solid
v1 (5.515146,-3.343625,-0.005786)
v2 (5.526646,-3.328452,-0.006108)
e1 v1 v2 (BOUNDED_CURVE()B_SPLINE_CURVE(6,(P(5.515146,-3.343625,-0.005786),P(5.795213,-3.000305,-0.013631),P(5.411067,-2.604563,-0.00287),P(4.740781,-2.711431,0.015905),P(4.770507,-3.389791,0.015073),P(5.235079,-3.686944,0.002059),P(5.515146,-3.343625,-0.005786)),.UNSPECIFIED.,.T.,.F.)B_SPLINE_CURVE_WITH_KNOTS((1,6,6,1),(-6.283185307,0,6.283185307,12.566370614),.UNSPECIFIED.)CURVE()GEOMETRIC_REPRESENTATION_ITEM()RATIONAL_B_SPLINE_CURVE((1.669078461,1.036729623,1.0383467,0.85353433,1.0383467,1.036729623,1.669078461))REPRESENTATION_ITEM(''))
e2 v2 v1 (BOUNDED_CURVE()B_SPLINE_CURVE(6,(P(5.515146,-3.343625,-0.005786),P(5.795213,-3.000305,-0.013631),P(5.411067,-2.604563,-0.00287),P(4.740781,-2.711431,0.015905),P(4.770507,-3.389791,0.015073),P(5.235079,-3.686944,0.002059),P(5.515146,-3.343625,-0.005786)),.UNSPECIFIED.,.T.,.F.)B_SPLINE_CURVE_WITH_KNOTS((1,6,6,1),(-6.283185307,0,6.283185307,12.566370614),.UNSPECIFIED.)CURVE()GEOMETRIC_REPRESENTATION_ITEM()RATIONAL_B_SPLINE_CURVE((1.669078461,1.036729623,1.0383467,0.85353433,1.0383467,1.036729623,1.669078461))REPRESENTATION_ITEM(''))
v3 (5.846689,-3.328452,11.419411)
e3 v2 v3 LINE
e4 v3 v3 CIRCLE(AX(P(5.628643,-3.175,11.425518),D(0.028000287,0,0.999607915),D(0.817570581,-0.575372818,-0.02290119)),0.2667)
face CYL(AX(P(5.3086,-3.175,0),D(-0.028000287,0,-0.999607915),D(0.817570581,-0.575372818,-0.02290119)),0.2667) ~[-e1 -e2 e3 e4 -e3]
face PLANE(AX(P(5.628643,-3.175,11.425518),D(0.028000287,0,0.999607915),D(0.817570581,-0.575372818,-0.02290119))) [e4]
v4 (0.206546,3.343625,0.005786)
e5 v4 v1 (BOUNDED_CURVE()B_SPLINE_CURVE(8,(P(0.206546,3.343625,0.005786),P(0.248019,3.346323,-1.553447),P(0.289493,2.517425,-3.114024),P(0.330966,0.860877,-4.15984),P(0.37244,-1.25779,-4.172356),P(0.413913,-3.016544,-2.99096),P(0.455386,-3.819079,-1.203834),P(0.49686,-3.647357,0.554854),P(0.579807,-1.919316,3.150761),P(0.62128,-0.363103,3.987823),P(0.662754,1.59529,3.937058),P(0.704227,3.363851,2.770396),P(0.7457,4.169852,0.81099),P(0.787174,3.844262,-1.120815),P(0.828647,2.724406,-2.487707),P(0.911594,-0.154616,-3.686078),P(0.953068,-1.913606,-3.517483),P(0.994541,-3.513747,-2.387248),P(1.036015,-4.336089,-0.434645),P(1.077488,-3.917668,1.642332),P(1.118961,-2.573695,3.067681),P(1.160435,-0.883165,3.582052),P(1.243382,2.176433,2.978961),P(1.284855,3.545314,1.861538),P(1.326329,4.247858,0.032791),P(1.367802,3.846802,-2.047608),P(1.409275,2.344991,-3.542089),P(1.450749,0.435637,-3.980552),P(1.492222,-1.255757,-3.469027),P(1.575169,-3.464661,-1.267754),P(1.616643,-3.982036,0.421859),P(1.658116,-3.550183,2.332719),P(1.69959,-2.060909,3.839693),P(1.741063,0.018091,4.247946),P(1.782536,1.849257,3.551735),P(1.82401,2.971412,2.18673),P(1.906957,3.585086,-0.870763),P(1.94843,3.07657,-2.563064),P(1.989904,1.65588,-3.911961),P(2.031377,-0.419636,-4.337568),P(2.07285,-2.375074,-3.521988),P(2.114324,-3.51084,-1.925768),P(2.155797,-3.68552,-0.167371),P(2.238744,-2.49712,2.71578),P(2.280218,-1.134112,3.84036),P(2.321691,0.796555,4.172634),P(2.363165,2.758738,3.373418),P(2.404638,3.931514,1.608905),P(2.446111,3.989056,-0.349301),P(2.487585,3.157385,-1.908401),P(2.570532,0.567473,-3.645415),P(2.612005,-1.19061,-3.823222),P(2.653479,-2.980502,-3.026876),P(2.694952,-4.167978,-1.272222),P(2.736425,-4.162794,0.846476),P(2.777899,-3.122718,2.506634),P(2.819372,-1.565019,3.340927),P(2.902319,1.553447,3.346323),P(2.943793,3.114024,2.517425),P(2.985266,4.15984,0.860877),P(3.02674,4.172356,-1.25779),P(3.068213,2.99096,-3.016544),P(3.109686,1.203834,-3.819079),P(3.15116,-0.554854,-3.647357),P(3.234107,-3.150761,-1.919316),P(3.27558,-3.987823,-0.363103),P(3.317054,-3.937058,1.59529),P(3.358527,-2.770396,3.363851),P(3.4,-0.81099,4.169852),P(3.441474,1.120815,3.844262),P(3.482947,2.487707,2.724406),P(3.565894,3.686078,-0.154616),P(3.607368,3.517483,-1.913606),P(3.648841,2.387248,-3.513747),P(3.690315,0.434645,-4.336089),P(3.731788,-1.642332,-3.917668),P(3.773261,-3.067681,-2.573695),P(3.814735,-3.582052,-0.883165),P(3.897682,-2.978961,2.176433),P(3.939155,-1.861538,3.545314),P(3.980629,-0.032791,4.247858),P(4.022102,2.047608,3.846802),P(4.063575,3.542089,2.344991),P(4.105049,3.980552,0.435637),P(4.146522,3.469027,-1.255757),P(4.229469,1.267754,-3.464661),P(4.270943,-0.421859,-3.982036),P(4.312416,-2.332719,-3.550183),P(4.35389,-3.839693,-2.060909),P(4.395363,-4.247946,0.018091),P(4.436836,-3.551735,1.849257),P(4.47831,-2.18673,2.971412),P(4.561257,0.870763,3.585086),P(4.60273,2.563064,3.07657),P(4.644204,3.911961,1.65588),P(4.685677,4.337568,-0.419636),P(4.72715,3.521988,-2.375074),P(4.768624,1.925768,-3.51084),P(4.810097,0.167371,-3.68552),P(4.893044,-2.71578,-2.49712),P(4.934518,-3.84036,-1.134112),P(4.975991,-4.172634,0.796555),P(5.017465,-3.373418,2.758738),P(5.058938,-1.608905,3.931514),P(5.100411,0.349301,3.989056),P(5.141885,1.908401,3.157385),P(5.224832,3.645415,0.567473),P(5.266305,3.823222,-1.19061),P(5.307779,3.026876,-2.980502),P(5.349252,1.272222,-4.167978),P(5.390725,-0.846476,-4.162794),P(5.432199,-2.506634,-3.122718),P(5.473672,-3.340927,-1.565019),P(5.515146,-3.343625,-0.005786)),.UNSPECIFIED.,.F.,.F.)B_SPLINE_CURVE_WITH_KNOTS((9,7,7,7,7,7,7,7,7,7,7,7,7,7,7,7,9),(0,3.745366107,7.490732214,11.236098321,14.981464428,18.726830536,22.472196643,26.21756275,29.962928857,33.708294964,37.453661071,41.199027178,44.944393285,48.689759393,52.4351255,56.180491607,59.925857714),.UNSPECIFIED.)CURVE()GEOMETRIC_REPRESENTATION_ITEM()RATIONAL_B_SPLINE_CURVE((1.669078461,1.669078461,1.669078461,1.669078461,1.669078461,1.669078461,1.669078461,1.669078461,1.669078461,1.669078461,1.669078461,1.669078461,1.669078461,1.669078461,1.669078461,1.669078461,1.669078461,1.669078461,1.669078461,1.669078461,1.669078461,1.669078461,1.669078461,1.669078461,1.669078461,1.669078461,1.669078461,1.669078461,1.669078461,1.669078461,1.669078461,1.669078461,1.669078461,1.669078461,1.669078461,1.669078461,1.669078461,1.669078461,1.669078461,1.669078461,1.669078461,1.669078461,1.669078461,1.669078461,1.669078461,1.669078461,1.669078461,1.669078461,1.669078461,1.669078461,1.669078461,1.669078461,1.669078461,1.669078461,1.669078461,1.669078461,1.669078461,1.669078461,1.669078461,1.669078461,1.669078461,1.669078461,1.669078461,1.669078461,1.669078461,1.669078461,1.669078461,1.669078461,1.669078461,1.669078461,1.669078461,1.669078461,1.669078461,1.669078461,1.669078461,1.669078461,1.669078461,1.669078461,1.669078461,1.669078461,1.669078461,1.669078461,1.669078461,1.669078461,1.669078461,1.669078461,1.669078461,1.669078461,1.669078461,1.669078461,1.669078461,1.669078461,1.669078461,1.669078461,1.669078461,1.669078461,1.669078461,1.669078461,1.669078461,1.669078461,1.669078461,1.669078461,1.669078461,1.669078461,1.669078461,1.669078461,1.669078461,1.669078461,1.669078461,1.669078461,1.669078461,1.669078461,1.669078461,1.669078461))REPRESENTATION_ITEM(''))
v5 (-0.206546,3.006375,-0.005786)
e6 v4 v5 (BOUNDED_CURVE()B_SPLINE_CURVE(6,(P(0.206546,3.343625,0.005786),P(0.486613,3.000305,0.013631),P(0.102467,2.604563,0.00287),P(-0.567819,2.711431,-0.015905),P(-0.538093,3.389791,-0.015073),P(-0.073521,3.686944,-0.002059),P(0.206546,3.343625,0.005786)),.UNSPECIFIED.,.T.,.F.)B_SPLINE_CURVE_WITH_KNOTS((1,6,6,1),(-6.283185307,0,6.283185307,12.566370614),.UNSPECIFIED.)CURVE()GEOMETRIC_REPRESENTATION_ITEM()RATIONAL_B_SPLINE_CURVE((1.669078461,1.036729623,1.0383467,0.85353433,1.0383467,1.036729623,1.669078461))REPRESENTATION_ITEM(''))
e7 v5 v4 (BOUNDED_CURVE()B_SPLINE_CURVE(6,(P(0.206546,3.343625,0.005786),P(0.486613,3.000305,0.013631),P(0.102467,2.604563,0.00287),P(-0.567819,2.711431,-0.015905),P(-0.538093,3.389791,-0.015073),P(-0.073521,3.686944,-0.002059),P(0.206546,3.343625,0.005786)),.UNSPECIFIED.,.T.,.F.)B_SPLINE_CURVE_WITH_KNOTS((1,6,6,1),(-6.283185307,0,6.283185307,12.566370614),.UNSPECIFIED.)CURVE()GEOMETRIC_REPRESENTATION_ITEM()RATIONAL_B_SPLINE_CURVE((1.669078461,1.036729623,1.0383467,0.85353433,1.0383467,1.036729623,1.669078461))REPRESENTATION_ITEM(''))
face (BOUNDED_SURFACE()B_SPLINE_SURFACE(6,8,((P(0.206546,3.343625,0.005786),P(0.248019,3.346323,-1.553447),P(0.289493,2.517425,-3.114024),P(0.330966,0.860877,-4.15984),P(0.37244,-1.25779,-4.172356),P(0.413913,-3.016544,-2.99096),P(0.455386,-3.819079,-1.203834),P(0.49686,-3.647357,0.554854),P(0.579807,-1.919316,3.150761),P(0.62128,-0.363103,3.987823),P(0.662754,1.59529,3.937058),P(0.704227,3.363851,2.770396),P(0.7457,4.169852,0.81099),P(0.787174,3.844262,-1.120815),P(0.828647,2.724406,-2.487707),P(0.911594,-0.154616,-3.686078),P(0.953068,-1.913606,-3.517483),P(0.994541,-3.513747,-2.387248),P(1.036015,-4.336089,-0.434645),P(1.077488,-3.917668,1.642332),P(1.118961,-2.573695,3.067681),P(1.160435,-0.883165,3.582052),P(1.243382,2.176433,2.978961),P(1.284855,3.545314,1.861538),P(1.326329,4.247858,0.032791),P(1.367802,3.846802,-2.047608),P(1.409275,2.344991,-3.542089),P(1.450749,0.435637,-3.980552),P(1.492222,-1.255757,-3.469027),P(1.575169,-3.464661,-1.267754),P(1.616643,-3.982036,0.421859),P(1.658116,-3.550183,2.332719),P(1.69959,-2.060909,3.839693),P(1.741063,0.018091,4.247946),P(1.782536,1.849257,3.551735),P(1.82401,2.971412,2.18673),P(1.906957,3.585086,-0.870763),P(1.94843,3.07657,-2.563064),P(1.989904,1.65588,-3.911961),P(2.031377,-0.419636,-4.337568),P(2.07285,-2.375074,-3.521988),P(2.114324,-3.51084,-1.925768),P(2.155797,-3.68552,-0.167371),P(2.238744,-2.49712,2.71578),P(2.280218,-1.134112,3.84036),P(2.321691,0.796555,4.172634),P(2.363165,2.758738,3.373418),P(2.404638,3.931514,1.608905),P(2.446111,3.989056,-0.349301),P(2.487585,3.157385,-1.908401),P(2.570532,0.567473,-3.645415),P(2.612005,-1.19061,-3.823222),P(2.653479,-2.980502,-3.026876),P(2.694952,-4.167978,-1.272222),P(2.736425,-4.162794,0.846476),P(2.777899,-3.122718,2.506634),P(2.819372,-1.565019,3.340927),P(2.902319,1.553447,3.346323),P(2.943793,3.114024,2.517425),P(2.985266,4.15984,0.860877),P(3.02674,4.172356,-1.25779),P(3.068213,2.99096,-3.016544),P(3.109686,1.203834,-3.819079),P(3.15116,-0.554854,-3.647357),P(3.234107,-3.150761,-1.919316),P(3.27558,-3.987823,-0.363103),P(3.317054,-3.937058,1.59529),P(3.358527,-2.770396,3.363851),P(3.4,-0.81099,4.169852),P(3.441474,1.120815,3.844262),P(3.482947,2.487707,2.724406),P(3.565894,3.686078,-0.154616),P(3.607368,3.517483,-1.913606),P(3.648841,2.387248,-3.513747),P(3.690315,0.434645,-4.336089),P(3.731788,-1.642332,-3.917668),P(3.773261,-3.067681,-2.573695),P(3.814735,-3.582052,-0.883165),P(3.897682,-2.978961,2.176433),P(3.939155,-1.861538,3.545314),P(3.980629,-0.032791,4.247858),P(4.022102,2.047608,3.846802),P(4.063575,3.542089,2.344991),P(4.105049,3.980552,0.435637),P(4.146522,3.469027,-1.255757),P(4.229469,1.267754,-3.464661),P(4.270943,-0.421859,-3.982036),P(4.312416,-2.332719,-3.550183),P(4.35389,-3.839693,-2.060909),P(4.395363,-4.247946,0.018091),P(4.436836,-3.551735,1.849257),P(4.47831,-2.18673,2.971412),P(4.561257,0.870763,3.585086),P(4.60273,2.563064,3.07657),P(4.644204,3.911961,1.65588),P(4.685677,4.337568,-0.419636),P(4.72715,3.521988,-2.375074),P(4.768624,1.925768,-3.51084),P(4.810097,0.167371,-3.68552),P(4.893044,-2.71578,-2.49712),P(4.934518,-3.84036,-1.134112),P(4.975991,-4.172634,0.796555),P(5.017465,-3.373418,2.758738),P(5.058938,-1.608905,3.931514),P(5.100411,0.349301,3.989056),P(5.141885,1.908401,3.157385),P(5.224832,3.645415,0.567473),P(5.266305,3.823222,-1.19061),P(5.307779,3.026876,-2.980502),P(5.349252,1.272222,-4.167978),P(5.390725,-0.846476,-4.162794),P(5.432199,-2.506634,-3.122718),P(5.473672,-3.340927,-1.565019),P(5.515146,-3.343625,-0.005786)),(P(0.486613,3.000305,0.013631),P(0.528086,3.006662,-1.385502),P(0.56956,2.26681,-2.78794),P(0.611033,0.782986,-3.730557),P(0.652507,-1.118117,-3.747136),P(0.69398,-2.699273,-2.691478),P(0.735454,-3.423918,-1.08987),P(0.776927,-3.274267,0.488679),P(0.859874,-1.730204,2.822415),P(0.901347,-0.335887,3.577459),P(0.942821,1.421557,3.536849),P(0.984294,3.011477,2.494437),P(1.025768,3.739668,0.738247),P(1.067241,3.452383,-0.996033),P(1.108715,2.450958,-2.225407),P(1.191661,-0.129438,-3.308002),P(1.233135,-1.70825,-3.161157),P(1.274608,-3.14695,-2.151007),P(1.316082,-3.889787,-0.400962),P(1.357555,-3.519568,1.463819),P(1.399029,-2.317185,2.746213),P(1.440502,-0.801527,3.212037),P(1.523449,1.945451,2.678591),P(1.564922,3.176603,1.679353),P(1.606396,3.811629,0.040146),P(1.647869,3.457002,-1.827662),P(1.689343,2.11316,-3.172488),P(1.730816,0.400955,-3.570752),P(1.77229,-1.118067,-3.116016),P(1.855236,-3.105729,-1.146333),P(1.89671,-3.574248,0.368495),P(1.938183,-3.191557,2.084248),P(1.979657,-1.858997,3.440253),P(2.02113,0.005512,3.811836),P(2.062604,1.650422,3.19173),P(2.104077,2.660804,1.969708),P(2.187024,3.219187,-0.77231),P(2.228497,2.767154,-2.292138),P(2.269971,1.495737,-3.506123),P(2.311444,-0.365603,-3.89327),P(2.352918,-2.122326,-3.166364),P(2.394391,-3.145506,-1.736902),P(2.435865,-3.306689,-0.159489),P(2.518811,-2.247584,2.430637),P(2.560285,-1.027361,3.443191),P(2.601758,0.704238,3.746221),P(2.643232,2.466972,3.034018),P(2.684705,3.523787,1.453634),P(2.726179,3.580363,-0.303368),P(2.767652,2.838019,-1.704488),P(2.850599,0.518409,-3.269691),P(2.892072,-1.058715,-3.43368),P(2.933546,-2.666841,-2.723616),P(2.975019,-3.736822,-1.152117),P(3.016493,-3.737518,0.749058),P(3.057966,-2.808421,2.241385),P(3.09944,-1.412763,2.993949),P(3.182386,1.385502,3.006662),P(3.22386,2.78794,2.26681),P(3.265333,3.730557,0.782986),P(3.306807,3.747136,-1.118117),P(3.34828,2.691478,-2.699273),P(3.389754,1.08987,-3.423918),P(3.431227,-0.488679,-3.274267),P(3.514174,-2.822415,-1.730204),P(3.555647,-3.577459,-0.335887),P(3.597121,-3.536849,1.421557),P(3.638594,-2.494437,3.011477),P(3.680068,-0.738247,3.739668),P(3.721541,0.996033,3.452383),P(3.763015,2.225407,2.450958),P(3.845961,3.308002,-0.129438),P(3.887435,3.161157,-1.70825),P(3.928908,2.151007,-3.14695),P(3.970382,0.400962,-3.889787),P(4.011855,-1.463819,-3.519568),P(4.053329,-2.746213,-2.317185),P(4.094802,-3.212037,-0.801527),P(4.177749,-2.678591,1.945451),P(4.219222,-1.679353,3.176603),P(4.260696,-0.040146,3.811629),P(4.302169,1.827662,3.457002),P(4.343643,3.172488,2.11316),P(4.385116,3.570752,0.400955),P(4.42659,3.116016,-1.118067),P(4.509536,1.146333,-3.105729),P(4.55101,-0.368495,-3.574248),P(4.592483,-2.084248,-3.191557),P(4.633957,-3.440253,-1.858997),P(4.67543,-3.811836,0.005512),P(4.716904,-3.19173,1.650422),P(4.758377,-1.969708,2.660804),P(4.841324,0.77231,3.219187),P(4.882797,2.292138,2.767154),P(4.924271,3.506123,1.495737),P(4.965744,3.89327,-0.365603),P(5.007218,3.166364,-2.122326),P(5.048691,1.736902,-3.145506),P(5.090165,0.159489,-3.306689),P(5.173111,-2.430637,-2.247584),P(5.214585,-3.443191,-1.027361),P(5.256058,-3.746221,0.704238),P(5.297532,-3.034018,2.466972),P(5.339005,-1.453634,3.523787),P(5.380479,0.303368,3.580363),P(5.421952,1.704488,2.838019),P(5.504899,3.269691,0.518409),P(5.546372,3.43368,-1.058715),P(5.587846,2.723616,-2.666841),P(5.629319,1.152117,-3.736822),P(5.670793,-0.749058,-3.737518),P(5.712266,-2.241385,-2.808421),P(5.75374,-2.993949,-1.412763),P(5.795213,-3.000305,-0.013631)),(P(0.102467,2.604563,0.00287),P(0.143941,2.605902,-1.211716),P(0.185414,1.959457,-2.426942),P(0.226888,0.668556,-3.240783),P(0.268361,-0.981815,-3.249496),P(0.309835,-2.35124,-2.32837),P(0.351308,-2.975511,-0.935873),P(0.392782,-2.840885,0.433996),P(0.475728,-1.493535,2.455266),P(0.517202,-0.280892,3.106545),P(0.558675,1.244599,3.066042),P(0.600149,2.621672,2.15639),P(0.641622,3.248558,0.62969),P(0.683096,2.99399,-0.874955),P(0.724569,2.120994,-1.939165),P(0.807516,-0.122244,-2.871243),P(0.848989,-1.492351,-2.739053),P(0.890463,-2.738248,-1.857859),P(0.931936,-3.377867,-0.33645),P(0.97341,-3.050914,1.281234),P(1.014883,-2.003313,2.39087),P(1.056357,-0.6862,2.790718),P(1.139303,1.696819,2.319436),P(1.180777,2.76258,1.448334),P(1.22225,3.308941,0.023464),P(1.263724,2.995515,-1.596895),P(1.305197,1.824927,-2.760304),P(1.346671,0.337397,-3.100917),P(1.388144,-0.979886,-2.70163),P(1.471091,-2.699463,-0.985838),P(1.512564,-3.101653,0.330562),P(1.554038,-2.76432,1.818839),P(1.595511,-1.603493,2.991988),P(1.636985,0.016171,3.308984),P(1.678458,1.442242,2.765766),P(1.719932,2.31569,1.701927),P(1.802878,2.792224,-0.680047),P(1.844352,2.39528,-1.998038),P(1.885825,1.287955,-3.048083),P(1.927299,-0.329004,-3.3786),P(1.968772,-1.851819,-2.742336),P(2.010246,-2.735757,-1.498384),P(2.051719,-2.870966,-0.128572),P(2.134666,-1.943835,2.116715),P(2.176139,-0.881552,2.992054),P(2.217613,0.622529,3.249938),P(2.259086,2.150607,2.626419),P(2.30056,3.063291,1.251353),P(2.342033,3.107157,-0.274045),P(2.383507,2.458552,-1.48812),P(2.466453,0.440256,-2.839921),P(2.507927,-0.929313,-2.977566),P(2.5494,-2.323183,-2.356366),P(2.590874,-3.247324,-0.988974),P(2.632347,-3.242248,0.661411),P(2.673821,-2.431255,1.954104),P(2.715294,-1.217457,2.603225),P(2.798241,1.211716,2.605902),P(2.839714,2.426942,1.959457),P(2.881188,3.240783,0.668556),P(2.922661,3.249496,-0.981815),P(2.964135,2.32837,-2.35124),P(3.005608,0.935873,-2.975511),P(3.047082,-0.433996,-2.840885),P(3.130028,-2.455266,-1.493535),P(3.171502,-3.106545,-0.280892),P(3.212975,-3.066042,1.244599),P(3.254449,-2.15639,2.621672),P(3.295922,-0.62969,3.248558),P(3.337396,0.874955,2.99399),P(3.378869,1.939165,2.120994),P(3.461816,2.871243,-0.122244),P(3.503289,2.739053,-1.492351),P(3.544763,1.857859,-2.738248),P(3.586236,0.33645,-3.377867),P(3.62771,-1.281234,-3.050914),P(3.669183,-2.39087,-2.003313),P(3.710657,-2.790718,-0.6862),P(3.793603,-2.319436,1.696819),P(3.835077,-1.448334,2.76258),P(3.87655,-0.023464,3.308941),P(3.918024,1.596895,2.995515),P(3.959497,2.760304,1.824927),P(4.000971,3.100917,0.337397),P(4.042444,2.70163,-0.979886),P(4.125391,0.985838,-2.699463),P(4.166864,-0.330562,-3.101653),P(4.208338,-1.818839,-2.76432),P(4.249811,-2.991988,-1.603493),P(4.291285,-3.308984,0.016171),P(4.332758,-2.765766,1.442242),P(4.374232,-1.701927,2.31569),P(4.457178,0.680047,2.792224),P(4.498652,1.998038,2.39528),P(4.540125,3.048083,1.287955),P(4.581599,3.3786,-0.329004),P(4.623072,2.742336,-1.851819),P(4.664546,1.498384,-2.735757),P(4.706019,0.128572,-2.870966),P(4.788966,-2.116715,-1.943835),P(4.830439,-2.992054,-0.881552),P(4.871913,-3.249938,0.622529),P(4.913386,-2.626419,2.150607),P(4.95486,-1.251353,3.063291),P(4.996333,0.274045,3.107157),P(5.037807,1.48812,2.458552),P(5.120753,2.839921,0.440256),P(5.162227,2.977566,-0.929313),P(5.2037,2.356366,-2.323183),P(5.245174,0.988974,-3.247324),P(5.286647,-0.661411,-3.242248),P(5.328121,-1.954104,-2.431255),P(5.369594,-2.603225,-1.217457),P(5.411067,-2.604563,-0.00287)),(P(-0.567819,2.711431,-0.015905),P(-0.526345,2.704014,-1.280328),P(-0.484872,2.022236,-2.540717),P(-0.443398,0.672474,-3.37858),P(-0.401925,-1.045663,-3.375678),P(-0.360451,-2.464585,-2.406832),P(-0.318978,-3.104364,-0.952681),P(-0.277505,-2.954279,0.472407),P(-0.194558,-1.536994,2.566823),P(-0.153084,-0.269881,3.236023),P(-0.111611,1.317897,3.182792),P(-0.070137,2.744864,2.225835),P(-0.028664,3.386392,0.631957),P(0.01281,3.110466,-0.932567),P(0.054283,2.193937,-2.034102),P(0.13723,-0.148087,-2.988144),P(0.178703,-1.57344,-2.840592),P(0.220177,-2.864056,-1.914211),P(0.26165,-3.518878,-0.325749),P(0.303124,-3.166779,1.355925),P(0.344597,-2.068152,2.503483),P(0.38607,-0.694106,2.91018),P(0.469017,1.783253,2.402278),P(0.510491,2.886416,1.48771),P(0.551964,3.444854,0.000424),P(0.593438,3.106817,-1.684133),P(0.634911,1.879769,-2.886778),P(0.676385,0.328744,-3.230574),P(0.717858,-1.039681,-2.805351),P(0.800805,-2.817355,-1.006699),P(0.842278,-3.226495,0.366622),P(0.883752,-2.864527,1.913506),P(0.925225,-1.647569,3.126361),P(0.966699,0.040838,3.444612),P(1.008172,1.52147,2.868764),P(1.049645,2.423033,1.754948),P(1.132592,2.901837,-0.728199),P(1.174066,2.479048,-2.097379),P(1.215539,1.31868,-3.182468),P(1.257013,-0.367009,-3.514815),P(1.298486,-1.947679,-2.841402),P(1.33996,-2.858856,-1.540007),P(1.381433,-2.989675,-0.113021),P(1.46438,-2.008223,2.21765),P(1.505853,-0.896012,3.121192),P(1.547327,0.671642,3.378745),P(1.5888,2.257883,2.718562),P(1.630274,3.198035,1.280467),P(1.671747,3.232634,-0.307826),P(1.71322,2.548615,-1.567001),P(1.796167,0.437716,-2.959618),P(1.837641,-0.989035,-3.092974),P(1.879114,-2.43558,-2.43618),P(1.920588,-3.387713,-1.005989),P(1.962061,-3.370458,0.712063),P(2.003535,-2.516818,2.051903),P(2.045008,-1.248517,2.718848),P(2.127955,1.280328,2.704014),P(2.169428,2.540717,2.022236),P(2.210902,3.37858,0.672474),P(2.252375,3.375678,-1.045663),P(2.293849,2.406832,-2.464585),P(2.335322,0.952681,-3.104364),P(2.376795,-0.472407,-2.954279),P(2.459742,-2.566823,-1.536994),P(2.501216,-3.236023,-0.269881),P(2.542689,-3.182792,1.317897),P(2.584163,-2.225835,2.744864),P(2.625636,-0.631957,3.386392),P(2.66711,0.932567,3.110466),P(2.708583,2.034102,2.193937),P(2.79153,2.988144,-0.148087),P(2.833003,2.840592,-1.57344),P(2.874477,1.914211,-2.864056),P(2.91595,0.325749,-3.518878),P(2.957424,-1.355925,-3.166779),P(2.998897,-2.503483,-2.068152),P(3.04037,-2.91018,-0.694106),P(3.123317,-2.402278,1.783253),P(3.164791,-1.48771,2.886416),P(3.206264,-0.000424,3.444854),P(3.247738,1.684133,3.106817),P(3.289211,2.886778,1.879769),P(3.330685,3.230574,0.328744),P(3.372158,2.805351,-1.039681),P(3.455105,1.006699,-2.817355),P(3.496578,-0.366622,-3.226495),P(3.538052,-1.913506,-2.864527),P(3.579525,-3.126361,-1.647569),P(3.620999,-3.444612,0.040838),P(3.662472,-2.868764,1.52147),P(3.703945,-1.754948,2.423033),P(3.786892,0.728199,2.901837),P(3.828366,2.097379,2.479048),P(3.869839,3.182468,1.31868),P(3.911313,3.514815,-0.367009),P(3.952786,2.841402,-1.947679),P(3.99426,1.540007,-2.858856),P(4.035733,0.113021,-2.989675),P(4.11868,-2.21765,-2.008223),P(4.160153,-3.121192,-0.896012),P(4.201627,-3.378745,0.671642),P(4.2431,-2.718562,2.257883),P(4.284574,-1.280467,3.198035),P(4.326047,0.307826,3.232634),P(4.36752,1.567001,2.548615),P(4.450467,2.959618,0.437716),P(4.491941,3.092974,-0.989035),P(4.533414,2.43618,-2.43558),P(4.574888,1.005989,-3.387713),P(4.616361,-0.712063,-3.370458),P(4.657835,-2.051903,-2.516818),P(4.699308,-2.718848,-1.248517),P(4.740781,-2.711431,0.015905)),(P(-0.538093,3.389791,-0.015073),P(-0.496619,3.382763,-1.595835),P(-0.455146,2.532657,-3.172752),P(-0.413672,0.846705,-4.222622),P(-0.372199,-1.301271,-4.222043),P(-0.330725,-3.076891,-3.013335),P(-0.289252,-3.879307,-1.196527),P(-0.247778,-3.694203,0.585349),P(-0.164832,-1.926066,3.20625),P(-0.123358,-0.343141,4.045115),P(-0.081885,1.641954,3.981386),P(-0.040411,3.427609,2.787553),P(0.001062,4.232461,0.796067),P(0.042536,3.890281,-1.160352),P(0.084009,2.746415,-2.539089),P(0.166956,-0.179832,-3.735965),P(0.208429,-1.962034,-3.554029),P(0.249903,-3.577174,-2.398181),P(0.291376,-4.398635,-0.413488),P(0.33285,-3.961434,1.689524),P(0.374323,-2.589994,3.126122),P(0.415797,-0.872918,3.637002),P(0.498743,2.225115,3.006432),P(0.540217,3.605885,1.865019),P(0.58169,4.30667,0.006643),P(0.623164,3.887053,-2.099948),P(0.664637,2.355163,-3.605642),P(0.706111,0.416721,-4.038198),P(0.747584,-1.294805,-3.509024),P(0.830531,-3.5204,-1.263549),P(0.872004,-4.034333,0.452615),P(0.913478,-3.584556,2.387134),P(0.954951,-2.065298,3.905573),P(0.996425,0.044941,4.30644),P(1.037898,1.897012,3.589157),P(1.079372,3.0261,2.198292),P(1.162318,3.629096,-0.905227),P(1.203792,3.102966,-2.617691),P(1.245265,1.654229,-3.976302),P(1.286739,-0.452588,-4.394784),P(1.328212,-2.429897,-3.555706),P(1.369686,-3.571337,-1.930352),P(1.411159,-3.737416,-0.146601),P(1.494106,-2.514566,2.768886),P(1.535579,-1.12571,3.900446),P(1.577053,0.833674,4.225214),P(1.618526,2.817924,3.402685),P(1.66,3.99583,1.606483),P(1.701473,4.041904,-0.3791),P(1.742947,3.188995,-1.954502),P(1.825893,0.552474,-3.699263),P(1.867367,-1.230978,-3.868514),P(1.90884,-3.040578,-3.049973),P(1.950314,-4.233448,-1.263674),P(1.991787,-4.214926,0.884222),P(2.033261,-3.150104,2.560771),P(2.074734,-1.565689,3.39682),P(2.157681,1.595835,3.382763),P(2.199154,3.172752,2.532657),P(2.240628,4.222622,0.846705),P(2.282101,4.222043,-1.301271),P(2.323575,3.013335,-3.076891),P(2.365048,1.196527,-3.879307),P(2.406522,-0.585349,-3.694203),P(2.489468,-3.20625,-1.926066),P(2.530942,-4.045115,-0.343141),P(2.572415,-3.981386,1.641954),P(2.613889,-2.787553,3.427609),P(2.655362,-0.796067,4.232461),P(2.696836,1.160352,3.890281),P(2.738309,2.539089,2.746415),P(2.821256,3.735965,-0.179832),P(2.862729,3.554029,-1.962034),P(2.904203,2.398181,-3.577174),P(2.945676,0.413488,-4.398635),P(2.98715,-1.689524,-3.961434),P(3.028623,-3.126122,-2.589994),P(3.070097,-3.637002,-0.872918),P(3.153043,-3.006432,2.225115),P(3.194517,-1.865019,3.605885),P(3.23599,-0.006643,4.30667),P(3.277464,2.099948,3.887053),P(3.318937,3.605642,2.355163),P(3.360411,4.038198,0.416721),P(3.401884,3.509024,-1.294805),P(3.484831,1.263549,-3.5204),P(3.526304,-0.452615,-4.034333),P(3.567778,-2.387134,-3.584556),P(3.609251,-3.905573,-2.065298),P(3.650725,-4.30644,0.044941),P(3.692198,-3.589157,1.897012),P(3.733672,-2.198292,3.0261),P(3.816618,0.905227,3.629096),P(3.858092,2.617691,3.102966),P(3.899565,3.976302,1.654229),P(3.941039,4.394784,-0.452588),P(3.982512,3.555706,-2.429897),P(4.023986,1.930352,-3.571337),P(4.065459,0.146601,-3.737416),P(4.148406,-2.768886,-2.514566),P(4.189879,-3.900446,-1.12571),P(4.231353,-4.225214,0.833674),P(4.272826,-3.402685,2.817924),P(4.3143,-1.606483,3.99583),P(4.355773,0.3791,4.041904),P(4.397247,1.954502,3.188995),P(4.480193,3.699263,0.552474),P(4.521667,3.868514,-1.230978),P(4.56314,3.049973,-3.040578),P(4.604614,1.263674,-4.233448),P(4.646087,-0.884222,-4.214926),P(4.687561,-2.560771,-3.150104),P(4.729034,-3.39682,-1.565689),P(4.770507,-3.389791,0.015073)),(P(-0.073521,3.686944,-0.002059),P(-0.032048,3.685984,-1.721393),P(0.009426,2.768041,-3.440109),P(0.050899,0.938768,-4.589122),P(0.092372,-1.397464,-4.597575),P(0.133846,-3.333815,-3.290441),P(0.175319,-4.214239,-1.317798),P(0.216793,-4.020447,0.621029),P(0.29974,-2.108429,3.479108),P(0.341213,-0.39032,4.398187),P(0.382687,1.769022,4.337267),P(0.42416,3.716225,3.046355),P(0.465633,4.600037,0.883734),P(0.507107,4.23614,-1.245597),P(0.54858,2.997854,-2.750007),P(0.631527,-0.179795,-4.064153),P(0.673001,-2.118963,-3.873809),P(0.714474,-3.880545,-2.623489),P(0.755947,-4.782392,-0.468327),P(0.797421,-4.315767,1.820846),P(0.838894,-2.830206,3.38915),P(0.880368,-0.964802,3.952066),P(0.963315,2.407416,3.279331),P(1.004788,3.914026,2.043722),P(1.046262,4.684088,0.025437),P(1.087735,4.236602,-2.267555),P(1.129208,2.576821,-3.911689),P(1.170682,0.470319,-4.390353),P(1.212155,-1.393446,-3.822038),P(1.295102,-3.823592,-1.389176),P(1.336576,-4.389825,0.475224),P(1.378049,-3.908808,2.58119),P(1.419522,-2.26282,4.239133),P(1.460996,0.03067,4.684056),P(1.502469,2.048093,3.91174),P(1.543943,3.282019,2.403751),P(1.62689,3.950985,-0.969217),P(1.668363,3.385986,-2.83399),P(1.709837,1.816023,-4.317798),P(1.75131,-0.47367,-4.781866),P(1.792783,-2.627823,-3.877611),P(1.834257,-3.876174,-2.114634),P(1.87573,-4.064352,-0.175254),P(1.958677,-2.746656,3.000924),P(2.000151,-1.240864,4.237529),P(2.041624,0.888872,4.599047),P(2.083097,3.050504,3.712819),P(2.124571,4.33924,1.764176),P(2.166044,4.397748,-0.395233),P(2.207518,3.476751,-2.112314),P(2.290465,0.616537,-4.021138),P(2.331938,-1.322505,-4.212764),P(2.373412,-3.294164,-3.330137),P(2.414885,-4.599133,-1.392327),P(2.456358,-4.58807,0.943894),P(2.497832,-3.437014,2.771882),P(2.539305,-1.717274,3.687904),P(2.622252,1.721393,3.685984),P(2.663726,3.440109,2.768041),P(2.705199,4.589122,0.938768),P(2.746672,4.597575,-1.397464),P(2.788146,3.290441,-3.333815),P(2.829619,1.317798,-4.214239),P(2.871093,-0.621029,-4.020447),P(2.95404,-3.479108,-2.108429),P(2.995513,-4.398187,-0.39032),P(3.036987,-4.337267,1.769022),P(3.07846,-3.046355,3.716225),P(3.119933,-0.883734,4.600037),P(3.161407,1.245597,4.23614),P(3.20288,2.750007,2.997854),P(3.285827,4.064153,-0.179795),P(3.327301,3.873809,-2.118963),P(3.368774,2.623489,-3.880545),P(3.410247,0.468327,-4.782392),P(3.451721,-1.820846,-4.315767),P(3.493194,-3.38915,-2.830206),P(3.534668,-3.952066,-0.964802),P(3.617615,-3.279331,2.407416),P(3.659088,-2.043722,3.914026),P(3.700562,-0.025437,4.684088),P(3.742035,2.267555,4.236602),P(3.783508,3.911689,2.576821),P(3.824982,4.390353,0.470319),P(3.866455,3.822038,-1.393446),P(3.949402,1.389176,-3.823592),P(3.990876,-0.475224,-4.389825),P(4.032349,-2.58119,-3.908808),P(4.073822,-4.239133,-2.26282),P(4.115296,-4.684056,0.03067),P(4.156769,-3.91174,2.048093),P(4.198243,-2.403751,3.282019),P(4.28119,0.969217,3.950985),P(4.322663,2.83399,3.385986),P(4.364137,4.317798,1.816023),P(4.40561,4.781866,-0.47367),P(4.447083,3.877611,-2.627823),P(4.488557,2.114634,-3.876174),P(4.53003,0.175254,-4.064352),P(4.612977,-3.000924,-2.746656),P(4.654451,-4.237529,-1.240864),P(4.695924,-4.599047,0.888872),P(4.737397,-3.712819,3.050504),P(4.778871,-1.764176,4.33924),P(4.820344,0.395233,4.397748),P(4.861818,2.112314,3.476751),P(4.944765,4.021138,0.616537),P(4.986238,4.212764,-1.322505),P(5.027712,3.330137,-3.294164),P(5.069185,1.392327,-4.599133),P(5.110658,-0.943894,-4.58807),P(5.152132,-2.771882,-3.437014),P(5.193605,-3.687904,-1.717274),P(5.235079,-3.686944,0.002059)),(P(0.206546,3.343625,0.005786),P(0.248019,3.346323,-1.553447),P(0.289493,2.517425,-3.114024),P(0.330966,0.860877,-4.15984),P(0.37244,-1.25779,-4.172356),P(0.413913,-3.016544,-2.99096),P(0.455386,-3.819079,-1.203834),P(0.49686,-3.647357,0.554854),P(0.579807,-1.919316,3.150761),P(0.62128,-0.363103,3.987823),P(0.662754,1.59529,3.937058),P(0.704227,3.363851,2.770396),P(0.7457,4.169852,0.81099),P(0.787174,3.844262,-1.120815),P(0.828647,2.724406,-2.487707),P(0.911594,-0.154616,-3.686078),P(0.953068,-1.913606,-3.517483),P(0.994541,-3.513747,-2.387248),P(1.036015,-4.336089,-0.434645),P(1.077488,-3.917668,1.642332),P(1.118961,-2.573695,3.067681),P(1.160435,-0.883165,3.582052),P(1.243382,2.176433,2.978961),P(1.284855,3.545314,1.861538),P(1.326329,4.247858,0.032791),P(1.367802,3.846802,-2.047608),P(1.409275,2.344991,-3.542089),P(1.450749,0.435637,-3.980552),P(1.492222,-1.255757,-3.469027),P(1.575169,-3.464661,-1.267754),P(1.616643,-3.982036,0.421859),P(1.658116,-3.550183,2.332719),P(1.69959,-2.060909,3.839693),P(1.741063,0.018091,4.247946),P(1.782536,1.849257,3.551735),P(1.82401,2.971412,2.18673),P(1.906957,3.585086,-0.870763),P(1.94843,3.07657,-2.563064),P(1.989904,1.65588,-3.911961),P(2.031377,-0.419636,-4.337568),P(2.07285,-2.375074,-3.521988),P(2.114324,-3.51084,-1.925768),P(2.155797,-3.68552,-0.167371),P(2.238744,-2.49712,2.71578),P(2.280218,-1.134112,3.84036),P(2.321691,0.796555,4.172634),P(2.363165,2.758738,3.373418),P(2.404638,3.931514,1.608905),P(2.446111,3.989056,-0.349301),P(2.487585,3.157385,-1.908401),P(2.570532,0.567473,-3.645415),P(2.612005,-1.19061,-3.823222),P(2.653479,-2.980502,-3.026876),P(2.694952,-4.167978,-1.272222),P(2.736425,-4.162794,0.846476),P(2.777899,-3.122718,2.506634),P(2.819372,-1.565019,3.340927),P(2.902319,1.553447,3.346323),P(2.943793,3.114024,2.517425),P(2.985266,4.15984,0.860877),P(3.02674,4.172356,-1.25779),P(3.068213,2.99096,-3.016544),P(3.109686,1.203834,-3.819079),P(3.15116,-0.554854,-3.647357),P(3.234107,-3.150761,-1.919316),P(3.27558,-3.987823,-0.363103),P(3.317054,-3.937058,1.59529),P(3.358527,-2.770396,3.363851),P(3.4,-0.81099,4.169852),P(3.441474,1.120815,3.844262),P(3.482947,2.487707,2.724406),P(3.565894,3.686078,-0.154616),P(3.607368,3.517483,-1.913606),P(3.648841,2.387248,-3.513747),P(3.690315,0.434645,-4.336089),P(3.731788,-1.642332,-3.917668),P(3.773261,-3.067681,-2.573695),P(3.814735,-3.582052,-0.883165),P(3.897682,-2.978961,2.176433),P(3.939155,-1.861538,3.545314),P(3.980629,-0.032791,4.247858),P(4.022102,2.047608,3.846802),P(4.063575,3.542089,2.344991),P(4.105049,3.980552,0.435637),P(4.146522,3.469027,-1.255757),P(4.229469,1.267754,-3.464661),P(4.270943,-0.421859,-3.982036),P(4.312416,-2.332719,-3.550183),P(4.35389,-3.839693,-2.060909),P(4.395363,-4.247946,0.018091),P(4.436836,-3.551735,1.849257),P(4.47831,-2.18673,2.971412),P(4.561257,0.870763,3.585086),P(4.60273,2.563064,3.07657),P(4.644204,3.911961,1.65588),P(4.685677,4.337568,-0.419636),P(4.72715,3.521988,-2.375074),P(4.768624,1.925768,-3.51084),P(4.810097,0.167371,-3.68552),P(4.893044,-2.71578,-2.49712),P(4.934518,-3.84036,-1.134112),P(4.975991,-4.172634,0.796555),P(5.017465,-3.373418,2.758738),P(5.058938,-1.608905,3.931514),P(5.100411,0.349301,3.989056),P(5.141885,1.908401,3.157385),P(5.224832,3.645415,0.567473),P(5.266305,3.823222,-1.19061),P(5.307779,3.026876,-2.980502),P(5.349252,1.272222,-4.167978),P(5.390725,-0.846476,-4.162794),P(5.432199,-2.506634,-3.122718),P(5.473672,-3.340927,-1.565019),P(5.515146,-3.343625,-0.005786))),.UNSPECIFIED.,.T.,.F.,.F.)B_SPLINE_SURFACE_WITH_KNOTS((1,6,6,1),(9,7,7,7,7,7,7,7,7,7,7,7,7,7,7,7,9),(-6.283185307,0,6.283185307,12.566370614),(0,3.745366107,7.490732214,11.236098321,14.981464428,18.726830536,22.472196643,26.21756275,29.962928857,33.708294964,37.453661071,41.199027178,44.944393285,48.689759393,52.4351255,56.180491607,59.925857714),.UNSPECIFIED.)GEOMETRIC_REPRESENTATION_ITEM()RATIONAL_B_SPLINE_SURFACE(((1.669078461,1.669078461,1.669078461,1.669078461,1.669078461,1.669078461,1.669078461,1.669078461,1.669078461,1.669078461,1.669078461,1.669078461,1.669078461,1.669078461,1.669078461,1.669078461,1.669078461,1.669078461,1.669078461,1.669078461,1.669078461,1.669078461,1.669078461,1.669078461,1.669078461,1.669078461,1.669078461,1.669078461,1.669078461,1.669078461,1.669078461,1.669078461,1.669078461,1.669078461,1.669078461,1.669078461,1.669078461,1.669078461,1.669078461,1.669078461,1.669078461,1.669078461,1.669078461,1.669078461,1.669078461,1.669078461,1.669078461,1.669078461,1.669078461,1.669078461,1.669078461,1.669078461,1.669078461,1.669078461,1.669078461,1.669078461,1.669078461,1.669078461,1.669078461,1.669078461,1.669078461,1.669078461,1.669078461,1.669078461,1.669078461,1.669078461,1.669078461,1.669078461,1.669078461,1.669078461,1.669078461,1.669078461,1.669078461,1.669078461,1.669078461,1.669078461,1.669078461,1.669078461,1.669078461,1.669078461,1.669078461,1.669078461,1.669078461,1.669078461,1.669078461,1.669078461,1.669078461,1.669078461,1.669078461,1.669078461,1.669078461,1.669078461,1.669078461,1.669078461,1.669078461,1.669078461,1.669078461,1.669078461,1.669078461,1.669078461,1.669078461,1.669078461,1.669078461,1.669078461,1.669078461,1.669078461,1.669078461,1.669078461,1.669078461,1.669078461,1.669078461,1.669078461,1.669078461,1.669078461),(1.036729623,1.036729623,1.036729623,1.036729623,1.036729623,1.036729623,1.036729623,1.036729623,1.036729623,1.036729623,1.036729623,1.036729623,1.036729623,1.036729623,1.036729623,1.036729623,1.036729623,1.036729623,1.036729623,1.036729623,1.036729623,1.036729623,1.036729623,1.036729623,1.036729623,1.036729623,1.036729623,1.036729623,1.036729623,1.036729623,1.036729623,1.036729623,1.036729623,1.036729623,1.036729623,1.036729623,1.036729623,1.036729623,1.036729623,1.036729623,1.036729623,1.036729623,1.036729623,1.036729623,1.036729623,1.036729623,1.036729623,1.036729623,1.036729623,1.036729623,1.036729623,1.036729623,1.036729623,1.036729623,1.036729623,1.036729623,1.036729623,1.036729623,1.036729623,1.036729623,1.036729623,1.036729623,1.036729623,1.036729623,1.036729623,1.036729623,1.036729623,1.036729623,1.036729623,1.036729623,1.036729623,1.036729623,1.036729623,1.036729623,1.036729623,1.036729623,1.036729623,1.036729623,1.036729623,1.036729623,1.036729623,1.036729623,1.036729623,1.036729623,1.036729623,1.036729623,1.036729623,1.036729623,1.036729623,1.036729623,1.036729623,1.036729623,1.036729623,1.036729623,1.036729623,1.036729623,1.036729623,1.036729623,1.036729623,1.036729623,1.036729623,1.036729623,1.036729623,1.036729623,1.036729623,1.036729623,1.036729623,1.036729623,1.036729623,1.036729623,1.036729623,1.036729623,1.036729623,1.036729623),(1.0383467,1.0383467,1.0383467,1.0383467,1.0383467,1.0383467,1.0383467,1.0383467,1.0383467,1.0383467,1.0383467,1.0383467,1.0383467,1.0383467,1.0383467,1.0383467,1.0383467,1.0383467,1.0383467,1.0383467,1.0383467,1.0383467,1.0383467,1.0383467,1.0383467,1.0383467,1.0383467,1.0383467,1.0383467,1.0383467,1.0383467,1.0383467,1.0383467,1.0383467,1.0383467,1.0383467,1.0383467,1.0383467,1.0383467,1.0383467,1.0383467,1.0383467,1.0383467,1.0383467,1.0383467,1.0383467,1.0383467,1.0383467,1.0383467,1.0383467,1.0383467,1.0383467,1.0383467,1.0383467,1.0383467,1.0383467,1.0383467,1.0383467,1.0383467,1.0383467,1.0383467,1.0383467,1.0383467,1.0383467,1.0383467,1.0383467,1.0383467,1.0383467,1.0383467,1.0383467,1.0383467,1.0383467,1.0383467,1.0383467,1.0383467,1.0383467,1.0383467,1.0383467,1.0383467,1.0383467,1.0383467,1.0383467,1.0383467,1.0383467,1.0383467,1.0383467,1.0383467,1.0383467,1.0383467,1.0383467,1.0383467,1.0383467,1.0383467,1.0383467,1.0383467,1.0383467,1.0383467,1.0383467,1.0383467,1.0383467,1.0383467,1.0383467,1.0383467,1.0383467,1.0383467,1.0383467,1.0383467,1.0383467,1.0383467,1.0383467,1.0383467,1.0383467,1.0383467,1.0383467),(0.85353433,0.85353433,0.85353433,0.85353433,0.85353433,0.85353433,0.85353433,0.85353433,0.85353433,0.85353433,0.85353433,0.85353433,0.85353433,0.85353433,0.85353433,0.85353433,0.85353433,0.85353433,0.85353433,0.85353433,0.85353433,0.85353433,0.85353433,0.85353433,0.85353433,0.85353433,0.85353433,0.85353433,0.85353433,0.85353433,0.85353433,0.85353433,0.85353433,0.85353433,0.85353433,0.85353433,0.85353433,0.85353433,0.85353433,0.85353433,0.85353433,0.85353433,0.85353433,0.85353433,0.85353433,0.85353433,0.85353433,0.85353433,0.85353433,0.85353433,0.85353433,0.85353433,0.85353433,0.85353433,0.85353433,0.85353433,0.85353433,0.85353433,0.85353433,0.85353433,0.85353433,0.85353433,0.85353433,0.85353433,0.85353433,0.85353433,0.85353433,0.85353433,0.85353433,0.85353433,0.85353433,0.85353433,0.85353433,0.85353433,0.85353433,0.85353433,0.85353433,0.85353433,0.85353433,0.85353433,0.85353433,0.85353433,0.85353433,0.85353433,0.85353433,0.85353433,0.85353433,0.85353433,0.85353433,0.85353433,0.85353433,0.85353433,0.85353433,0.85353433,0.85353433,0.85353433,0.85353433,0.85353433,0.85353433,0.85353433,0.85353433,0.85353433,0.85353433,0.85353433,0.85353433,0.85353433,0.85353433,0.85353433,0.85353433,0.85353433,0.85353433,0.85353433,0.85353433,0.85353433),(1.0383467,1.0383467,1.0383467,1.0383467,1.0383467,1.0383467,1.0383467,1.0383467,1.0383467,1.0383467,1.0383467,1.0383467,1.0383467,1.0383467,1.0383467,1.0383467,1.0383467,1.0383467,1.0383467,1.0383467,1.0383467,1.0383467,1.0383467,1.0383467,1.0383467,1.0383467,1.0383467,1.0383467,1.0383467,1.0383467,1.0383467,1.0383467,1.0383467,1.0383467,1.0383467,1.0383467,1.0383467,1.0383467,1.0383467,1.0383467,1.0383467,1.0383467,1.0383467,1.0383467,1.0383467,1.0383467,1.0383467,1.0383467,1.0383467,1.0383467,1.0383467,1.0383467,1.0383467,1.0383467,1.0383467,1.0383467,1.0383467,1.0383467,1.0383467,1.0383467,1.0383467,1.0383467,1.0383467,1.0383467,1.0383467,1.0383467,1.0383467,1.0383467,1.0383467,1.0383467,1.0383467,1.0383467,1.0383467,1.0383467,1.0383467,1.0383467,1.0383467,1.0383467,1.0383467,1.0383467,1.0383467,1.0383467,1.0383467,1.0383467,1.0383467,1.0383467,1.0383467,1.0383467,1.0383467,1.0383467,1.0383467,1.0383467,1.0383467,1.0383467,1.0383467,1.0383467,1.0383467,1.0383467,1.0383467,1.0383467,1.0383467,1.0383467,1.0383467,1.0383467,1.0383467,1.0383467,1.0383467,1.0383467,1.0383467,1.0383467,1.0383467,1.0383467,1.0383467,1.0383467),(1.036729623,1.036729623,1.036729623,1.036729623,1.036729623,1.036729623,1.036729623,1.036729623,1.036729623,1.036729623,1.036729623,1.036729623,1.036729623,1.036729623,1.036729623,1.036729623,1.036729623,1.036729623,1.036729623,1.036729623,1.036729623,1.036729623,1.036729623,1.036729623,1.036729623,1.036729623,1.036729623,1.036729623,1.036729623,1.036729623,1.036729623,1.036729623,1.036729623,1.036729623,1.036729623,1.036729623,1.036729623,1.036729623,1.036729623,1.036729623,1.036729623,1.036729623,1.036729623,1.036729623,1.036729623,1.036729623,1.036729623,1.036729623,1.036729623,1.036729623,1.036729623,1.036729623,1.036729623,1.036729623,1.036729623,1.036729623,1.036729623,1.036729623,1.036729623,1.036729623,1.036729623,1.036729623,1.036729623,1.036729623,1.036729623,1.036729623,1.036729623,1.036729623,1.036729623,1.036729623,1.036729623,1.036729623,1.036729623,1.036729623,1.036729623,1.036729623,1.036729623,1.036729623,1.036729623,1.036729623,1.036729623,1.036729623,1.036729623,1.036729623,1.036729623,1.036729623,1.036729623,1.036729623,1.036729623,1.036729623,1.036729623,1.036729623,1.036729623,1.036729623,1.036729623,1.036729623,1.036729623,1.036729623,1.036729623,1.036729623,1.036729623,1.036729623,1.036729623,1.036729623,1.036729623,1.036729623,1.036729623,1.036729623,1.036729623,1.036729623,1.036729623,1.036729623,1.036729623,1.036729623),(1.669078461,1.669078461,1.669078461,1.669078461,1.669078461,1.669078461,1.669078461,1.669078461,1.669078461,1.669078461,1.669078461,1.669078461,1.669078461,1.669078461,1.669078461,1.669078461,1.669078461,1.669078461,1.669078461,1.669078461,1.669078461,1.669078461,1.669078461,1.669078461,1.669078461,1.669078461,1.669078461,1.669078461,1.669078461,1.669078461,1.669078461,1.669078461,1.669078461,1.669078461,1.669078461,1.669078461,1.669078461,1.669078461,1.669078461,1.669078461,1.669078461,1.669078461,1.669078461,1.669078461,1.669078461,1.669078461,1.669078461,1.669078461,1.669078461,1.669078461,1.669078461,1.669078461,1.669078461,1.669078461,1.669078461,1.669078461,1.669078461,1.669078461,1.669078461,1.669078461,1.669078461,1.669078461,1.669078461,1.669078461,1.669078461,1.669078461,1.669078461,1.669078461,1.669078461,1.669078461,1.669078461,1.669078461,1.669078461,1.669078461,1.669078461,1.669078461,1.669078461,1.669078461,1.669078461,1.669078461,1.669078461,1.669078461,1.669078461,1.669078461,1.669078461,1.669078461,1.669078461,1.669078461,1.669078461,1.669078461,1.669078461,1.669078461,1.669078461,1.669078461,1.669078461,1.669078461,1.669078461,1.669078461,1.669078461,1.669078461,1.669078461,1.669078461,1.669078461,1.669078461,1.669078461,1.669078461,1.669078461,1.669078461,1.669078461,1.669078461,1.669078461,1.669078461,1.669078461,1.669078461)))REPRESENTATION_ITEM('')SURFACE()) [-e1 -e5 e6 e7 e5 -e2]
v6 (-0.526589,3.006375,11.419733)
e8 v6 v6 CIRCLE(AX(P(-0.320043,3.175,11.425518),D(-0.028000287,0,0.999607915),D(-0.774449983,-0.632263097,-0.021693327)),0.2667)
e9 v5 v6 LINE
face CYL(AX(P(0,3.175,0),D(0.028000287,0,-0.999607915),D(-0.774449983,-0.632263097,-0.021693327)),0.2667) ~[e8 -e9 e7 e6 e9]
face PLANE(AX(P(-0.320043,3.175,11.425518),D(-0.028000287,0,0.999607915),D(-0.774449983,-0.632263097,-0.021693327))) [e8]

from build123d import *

# Parameters (mm, degrees)
SWEEP1_PITCH       = 0.5588
SWEEP1_HEIGHT      = 5.3086
SWEEP1_RADIUS      = 3.175
SWEEP1_START_ANGLE = -90
SKETCH2_R          = 0.2667
SKETCH3_R          = 0.2667
EXTRUDE1_DEPTH     = 11.43
SKETCH4_R          = 0.2667
EXTRUDE2_DEPTH     = 11.43


with BuildPart() as part:
    # Sweep1: sweep along a helix
    with BuildLine() as sweep1_path:
        add(Helix(SWEEP1_PITCH, SWEEP1_HEIGHT, SWEEP1_RADIUS, center=(0, 0, 0), direction=(1, 0, 0), lefthand=True, mode=Mode.PRIVATE).rotate(Axis((0, 0, 0), (1, 0, 0)), SWEEP1_START_ANGLE))
    # Sketch2 → Sweep1 (sweep)
    with BuildSketch(Plane(origin=(0, 3.175, 0), x_dir=(0.774449983, 0.632263097, 0.021693328), z_dir=(0.028000287, 0, -0.999607915))):
        Circle(SKETCH2_R)
    sweep(path=sweep1_path.line, is_frenet=True)

    # Sketch3 → Extrude1 (add)
    with BuildSketch(Plane(origin=(0, 0, 0), x_dir=(-0.774449983, -0.632263097, -0.021693328), z_dir=(-0.028000287, 0, 0.999607915))):
        with Locations((-2.007435334, -2.459843162)):
            Circle(SKETCH3_R)
    extrude(amount=EXTRUDE1_DEPTH)

    # Sketch4 → Extrude2 (add)
    with BuildSketch(Plane(origin=(0.004162028, 0, 0.148584044), x_dir=(0.817570581, -0.575372818, -0.02290119), z_dir=(0.028000287, 0, 0.999607915))):
        with Locations((6.166963886, 0.456421785)):
            Circle(SKETCH4_R)
    extrude(amount=EXTRUDE2_DEPTH)


solid = part.part
